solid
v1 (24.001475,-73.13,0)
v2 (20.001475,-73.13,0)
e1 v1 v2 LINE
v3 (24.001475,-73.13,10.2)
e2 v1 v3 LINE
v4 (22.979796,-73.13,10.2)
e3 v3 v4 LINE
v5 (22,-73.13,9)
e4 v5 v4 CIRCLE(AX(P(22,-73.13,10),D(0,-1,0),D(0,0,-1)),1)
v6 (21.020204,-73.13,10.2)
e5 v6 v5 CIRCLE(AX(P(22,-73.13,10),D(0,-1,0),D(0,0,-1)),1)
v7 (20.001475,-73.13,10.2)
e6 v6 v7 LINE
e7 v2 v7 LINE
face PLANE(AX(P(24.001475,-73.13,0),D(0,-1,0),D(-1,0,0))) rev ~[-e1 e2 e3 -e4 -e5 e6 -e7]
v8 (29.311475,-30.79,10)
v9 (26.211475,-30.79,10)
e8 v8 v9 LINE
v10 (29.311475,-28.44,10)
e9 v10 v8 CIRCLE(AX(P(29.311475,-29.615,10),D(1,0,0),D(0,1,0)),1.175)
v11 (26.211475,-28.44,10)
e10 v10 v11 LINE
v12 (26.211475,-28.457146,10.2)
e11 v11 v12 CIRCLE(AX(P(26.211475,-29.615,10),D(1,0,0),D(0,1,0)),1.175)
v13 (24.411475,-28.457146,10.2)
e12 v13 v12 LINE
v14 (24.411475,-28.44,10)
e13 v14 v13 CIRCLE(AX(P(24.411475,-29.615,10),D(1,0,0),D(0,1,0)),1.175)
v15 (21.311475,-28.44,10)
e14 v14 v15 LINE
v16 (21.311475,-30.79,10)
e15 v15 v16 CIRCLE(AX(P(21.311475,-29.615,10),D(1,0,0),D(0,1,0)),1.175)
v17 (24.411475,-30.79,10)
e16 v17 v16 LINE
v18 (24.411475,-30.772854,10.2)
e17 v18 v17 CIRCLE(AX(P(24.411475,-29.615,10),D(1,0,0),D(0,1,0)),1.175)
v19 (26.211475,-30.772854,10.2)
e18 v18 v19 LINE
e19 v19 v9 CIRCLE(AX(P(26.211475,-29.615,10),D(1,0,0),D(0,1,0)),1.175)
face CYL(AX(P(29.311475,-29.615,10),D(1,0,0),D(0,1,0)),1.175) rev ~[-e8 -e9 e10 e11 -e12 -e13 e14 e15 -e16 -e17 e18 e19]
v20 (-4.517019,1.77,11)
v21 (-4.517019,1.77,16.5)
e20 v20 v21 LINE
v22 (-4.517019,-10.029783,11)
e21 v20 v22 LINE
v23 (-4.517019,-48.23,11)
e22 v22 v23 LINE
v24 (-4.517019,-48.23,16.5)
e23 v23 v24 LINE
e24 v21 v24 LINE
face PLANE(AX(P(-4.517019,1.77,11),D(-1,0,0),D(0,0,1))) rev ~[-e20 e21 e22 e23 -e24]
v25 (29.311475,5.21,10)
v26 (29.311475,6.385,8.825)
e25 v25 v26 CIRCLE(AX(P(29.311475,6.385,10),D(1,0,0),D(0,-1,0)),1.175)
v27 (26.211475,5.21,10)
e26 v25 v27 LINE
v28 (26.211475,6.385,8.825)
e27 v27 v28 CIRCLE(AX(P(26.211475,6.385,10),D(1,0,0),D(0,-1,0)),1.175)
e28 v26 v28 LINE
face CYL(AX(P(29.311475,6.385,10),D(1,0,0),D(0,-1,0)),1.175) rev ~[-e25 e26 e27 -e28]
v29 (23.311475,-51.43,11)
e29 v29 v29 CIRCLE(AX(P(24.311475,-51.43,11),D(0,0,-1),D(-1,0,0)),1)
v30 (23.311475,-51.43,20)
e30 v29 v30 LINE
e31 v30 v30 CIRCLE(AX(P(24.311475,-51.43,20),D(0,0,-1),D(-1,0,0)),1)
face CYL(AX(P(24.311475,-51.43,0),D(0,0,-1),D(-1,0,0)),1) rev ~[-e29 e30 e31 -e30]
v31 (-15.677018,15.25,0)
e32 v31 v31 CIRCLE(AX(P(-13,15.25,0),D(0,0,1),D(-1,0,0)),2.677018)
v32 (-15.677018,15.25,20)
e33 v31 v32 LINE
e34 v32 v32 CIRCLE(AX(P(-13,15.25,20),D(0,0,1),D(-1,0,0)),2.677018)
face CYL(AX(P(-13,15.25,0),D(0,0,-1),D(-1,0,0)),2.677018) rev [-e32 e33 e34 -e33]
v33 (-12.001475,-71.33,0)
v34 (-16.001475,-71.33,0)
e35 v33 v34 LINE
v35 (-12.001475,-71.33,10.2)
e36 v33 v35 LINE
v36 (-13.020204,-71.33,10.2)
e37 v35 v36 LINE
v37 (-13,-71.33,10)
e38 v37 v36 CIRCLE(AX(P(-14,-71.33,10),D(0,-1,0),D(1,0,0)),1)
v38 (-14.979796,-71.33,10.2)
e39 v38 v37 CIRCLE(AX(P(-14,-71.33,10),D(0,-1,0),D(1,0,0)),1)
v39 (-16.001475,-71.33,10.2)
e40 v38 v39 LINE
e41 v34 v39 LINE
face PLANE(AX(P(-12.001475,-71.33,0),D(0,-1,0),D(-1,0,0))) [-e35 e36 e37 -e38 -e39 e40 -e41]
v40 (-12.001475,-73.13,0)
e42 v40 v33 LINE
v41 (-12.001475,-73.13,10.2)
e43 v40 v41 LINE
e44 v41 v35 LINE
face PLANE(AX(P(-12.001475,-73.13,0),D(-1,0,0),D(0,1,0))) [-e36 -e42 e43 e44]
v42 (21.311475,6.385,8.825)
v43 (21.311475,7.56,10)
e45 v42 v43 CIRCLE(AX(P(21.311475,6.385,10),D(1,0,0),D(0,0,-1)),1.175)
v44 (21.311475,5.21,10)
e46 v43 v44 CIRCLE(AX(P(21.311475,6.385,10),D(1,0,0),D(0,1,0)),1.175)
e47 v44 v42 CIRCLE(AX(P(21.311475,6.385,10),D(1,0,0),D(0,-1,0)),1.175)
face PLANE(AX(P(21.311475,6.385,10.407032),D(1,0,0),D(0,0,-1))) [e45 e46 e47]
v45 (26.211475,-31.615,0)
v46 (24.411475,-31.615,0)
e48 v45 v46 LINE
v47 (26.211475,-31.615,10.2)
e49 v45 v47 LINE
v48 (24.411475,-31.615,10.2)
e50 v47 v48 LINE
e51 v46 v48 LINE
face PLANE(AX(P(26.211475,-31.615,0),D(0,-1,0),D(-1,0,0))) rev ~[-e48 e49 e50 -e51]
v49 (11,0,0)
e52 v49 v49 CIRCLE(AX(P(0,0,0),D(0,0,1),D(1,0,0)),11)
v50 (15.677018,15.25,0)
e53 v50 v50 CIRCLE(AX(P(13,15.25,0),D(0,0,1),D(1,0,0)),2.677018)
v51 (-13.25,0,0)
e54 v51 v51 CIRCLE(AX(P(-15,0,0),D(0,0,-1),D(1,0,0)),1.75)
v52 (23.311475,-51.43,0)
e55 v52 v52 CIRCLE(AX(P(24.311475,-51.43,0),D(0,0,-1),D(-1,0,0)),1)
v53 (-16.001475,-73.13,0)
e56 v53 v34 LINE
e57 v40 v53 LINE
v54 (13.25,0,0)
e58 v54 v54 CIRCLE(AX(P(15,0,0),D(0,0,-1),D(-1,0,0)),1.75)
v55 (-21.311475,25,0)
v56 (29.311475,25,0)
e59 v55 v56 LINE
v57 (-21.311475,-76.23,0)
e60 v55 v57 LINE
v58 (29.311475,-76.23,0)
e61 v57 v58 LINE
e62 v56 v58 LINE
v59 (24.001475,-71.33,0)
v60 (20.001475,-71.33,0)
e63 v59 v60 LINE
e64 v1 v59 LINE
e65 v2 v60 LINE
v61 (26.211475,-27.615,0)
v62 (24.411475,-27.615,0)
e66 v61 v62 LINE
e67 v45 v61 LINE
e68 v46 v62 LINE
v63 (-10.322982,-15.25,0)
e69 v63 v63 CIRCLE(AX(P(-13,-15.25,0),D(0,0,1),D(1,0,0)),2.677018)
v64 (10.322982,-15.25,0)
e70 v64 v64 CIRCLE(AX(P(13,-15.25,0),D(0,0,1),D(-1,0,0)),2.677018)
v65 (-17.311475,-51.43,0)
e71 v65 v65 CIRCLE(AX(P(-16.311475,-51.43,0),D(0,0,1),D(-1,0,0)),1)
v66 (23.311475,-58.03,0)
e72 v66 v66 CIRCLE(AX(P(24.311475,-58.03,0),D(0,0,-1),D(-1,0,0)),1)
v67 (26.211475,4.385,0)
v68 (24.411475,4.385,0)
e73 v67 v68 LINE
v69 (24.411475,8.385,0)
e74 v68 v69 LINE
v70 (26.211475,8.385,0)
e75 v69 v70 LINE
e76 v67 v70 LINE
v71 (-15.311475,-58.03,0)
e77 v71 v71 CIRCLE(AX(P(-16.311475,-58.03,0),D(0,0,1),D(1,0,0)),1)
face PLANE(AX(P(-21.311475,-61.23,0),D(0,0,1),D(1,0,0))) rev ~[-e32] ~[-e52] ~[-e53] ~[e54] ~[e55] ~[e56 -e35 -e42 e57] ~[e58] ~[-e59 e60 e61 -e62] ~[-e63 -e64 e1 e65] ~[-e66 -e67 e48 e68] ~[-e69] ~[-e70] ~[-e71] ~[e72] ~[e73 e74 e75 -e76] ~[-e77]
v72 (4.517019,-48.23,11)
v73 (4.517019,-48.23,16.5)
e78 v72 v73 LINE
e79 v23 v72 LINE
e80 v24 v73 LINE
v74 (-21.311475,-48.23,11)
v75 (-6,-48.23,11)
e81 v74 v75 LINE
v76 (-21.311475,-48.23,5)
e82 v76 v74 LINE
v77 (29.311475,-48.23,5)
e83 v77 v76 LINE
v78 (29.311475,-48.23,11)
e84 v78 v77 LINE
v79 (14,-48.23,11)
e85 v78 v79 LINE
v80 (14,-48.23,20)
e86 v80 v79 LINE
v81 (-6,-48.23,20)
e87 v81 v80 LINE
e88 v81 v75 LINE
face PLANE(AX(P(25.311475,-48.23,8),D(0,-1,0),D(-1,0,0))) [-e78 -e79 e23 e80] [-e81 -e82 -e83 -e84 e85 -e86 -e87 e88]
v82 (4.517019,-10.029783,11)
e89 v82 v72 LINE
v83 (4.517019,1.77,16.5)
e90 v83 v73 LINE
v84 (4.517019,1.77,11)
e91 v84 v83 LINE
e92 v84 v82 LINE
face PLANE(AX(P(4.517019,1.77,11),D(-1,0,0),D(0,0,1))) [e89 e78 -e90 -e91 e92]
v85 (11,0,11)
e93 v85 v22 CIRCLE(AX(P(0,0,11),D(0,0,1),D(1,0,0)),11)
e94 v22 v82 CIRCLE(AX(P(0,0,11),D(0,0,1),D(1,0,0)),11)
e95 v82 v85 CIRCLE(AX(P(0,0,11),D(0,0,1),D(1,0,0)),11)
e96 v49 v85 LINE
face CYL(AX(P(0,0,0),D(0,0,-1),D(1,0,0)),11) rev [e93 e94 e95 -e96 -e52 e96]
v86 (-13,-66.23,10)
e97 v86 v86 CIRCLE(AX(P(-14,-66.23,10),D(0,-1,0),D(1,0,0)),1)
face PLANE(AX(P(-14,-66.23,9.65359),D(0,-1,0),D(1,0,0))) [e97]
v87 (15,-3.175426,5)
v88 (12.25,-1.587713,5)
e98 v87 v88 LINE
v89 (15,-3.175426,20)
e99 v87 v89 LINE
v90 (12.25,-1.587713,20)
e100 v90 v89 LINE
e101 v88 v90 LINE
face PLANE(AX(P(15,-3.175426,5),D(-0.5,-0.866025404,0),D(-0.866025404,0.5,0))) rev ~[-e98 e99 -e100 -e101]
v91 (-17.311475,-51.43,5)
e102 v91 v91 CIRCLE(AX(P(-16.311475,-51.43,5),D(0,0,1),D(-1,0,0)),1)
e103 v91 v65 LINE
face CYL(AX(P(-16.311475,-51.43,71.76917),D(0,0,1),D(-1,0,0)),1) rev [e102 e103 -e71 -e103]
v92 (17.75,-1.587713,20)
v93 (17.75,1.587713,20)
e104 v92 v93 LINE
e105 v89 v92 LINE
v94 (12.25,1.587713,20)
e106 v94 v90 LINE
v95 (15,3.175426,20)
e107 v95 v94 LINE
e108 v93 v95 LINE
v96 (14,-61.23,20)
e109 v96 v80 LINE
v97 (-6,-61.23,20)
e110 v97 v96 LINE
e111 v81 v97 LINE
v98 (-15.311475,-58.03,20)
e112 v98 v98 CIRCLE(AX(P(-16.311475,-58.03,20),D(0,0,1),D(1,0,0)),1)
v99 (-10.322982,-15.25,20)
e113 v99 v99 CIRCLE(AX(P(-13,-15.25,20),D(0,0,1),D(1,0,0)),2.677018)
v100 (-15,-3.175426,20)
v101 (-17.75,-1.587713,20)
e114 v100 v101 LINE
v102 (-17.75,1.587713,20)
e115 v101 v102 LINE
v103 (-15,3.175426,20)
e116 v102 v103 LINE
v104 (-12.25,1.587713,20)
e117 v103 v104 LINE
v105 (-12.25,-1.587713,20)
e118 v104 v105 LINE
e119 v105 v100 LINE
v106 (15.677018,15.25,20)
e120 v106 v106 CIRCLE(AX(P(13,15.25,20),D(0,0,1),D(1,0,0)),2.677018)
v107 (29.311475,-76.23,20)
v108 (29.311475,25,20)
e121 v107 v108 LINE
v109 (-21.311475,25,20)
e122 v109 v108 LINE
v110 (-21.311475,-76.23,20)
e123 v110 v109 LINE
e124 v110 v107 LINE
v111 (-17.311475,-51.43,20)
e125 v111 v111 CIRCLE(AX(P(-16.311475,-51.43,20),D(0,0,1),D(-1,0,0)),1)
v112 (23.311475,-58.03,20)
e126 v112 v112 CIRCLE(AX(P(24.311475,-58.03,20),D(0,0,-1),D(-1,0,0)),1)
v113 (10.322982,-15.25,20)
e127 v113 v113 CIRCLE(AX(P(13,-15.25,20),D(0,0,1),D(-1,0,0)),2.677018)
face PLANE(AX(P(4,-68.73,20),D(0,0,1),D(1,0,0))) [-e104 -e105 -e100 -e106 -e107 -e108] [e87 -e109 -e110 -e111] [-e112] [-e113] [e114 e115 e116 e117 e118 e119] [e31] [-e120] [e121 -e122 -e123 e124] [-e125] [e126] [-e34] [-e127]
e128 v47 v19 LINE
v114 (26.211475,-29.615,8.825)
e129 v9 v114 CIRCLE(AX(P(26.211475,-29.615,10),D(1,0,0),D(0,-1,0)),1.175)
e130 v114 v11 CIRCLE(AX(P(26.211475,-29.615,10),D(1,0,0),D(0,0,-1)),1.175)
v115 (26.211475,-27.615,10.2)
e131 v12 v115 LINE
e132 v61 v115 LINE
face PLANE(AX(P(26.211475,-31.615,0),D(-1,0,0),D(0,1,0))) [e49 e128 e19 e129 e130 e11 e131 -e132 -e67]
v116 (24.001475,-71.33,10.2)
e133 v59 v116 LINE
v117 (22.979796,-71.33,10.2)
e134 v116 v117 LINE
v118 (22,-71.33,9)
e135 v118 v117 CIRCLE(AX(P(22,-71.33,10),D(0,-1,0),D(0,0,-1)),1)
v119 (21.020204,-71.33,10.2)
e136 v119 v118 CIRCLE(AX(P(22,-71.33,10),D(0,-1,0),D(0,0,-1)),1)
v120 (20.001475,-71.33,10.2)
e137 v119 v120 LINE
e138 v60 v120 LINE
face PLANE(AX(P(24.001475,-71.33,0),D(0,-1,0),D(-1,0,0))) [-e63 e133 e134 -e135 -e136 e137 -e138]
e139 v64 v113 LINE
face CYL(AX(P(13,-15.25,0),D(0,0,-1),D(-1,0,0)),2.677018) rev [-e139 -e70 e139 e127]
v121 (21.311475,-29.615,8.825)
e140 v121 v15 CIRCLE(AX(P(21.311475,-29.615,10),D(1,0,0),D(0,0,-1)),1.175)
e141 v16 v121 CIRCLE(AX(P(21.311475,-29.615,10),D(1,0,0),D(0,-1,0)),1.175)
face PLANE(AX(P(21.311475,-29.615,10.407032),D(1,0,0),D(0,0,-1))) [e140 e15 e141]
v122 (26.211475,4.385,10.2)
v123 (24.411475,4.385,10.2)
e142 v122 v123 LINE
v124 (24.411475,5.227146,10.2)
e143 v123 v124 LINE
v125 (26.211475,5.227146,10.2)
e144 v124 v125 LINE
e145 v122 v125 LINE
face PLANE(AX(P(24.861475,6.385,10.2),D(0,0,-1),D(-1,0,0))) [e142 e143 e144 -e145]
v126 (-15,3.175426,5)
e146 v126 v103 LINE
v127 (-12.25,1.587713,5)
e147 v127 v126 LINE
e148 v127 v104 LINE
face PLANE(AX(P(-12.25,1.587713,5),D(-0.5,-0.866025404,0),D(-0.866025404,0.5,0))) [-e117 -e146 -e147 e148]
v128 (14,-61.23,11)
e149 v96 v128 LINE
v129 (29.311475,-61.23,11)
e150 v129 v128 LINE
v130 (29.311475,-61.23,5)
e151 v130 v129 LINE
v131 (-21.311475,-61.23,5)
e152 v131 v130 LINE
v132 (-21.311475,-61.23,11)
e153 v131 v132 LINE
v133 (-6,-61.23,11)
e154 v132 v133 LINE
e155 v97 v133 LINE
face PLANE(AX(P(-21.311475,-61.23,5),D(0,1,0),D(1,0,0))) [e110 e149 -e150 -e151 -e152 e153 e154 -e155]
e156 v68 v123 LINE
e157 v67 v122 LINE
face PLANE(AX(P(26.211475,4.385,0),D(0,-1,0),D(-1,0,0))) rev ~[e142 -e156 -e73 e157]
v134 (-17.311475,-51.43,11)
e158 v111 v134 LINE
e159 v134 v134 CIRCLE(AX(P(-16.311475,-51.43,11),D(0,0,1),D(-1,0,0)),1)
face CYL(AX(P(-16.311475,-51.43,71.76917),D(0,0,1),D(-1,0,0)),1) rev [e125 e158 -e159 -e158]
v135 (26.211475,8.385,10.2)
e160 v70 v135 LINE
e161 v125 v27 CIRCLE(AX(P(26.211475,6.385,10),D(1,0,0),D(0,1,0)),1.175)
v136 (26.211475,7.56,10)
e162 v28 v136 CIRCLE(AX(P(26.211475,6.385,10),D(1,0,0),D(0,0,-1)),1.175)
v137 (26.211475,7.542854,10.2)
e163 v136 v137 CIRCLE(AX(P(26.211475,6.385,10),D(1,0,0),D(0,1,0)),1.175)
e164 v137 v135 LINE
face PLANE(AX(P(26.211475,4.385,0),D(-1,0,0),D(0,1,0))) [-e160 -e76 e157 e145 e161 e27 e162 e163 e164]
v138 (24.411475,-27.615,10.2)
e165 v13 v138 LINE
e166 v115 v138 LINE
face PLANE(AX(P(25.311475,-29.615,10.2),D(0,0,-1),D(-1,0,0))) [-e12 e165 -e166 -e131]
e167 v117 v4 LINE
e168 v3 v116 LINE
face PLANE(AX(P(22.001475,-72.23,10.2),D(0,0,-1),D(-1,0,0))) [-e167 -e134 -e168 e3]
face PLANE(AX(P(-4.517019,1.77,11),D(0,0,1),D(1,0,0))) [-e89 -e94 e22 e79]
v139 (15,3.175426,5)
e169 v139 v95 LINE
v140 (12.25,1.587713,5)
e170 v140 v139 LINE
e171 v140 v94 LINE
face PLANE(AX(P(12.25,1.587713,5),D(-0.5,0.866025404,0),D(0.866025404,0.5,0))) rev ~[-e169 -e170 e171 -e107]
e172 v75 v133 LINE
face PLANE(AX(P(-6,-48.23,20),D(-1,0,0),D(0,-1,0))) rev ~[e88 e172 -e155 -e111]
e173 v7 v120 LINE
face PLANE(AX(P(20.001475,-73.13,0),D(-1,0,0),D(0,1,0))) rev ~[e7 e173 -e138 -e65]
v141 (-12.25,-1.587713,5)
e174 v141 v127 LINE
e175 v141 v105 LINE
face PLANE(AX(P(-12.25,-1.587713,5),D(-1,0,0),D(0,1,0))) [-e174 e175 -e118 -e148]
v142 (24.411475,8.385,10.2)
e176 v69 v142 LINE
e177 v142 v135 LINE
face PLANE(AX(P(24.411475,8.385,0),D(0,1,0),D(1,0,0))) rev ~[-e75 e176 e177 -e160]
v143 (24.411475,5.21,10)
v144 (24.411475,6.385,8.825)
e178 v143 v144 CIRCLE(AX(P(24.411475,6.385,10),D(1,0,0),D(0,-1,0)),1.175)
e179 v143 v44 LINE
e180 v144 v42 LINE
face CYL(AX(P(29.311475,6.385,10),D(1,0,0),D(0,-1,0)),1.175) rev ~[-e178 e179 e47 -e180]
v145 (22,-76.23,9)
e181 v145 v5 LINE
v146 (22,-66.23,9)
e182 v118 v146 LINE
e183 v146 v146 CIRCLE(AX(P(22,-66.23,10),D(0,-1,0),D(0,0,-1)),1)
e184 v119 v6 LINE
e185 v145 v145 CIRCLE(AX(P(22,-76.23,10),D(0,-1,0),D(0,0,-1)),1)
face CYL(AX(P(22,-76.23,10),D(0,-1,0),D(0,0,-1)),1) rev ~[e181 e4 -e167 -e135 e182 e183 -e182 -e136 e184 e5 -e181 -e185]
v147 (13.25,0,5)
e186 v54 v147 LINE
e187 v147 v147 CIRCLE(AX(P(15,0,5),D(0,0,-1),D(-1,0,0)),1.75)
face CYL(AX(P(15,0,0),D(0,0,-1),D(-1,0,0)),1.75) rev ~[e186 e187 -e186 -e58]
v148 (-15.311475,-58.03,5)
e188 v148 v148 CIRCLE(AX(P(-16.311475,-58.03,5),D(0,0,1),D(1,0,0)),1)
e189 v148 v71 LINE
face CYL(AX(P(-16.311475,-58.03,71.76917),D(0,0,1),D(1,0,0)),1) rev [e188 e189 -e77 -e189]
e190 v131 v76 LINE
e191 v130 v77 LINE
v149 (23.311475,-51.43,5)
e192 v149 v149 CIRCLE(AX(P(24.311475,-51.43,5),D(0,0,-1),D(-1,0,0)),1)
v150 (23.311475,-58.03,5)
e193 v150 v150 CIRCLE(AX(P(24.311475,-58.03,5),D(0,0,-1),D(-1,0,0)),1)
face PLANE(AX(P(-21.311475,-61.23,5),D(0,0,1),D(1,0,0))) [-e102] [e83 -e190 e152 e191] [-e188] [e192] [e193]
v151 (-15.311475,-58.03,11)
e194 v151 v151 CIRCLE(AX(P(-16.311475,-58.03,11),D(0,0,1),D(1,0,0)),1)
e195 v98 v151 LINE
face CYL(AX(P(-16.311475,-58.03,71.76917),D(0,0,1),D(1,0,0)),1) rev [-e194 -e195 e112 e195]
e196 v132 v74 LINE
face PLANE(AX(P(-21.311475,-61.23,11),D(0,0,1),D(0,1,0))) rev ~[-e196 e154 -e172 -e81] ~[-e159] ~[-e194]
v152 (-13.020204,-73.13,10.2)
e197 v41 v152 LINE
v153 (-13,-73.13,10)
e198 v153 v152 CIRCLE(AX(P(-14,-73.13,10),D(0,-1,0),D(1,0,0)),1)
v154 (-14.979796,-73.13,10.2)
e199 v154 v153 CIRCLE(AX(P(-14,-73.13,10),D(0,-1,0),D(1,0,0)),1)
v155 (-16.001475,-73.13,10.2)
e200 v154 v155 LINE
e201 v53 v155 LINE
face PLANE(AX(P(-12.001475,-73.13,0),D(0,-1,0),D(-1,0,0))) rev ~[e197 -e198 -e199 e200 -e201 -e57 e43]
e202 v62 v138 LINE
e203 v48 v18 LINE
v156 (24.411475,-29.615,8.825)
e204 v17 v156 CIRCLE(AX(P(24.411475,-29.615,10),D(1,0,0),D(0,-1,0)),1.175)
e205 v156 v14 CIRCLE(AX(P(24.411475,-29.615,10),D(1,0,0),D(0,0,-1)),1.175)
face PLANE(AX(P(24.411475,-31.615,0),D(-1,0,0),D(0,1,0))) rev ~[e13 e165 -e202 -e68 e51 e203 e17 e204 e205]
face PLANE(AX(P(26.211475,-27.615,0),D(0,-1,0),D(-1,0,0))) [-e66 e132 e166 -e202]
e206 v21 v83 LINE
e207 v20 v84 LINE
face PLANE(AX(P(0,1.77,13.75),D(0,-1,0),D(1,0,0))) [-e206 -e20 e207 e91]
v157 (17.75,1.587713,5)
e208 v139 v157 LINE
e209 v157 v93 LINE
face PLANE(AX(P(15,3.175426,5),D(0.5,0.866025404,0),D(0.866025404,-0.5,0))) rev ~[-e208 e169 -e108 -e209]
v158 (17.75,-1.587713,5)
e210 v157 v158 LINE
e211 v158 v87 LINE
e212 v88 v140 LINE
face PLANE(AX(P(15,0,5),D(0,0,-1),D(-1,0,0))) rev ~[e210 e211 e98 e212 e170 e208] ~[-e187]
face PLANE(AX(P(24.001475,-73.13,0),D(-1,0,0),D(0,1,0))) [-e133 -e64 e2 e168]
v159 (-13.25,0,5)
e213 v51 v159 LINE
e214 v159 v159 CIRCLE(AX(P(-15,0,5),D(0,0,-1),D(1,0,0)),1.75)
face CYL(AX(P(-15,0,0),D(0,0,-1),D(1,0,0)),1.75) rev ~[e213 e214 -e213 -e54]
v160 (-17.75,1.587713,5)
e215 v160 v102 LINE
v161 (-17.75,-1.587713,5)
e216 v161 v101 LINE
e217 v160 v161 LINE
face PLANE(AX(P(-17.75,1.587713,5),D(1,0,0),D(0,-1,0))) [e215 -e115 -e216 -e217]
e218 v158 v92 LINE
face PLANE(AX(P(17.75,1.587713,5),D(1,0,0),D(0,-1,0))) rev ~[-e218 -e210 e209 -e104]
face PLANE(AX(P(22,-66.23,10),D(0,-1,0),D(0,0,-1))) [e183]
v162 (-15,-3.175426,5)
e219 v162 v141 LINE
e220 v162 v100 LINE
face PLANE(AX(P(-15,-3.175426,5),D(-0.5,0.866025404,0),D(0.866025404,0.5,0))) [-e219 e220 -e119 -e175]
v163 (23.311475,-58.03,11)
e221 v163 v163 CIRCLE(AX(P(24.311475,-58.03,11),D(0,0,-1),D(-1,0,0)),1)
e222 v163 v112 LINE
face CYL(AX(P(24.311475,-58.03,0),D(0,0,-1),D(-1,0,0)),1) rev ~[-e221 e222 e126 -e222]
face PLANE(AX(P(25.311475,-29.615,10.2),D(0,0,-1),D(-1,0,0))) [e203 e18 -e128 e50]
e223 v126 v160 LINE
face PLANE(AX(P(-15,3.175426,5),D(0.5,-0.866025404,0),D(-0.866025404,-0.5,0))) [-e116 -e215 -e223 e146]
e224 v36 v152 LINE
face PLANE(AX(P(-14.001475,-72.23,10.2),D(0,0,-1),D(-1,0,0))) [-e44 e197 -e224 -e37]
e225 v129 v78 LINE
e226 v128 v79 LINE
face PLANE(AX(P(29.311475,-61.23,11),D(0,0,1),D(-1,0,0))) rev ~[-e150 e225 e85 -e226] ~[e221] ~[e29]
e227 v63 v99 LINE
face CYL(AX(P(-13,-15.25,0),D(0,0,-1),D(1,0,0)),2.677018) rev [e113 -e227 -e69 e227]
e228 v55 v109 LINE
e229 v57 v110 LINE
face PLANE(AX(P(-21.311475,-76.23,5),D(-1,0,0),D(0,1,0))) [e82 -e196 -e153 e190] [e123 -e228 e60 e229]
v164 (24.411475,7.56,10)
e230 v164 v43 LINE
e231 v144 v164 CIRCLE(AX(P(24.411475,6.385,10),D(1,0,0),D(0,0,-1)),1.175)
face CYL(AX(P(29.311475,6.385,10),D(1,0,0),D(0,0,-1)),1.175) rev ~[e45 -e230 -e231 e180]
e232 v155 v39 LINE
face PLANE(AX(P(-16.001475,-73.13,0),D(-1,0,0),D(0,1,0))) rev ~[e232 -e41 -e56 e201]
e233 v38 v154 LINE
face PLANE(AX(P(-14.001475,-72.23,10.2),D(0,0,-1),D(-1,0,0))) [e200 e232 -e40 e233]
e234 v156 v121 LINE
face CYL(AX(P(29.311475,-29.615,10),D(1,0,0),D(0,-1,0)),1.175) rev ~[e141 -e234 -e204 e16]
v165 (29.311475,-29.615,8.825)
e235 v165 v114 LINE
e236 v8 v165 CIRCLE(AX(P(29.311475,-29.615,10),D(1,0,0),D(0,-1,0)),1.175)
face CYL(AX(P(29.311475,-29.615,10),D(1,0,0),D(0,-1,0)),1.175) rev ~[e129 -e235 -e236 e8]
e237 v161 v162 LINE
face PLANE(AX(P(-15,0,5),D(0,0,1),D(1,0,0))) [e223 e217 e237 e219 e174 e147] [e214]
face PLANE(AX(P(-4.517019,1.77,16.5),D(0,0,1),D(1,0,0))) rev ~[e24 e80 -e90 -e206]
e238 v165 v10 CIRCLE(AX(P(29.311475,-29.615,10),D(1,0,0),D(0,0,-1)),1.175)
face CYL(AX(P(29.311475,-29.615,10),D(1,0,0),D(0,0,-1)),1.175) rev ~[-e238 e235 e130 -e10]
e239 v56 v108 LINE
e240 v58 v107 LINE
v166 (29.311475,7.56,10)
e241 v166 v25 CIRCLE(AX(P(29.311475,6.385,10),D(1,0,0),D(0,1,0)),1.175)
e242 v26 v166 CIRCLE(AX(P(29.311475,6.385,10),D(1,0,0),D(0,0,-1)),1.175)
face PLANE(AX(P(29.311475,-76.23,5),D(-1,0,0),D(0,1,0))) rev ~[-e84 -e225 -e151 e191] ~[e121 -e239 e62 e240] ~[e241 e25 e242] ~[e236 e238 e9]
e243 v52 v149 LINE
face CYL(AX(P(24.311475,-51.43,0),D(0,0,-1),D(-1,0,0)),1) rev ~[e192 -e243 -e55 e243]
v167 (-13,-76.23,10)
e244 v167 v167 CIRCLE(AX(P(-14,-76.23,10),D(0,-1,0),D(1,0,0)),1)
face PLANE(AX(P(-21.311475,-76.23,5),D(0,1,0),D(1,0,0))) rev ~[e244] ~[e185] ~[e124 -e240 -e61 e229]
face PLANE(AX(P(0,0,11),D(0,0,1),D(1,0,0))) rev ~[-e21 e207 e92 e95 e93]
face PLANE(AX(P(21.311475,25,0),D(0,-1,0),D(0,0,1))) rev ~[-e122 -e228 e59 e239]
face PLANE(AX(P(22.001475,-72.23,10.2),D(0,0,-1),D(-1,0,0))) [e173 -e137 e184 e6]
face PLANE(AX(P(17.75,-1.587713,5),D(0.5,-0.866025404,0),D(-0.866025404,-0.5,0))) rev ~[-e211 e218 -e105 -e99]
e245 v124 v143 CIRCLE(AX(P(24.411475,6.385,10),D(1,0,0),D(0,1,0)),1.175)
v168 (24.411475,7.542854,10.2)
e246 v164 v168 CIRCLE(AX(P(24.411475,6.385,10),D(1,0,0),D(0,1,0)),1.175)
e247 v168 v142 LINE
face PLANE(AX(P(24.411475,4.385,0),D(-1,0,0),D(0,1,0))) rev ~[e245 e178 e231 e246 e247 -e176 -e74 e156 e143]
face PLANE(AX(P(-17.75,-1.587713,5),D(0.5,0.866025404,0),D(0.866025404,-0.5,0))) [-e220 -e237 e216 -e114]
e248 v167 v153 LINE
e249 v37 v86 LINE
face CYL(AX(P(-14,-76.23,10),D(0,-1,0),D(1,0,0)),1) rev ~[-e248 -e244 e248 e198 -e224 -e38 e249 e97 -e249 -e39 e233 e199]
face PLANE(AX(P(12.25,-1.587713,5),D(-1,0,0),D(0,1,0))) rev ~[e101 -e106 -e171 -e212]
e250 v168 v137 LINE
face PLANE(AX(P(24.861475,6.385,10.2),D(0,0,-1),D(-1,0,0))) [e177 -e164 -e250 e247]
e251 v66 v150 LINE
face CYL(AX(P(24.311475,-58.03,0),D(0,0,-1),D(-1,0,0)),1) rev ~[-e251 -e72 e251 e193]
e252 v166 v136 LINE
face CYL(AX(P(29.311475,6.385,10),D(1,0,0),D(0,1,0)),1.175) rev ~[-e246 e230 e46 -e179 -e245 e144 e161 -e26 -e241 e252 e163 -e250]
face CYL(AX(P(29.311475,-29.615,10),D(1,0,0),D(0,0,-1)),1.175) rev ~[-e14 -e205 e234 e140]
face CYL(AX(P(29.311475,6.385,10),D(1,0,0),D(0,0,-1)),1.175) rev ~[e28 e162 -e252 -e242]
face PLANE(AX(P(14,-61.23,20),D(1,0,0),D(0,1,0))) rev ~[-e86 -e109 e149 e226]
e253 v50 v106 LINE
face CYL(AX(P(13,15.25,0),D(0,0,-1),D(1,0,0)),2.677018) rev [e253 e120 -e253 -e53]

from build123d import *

# Parameters (mm, degrees)
SKETCH1_W               = 42.62295082
SKETCH1_H               = 50
SKETCH1_R               = 2.677018134
BOSS_EXTRUDE1_DEPTH     = 20
SKETCH2_R               = 11
CUT_EXTRUDE2_DEPTH      = 11
SKETCH3_R               = 1.75
CUT_EXTRUDE3_DEPTH      = 10
CUT_EXTRUDE6_START      = -5
CUT_EXTRUDE6_DEPTH      = 34.460095998
SKETCH30_W              = 42.62295082
SKETCH30_H              = 20
BOSS_EXTRUDE8_DEPTH     = 20.23
SKETCH10_W              = 42.62295082
SKETCH10_H              = 16
BOSS_EXTRUDE2_DEPTH     = 20
SKETCH14_W              = 6
SKETCH14_H              = 13
CUT_EXTRUDE7_DEPTH      = 78.238778062
BOSS_EXTRUDE3_DEPTH     = 8
CUT_EXTRUDE9_DEPTH      = 8
SKETCH18_W              = 0.9
SKETCH18_H              = 4
SKETCH18_W_2            = 1.8
CUT_EXTRUDE10_DEPTH     = 10.2
CUT_EXTRUDE8_DEPTH      = 71.769170482
CUT_EXTRUDE8_DEPTH_BACK = 71.769170482
SKETCH15_R              = 1
CUT_EXTRUDE5_DEPTH      = 82.374415455
CUT_EXTRUDE5_DEPTH_BACK = 50
SKETCH6_W               = 9.034037672
SKETCH6_H               = 5.5
SKETCH20_W              = 8
SKETCH20_H              = 20
BOSS_EXTRUDE5_DEPTH     = 13
SKETCH21_W              = 8
SKETCH21_H              = 6
CUT_EXTRUDE11_DEPTH     = 13
SKETCH22_R              = 1
CUT_EXTRUDE12_DEPTH     = 71.769170482
SKETCH24_W              = 50.62295082
SKETCH24_H              = 5
BOSS_EXTRUDE6_DEPTH     = 15
SKETCH25_W              = 50.62295082
SKETCH25_H              = 15
BOSS_EXTRUDE7_DEPTH     = 15
SKETCH26_R              = 1
CUT_EXTRUDE13_DEPTH     = 10
SKETCH27_W              = 4
SKETCH27_H              = 1.8
CUT_EXTRUDE14_DEPTH     = 10.2
SKETCH29_W              = 20
SKETCH29_H              = 3.2
CUT_EXTRUDE15_DEPTH     = 9


with BuildPart() as part:
    # Sketch1 → Boss-Extrude1 (new body)
    with BuildSketch(Plane.XY):
        Rectangle(SKETCH1_W, SKETCH1_H)
        with Locations((-13, -15.25)):
            Circle(SKETCH1_R, mode=Mode.SUBTRACT)
        with Locations(Location((13, -15.25, 0), (0, 0, 180))):
            Circle(SKETCH1_R, mode=Mode.SUBTRACT)
        with Locations((13, 15.25)):
            Circle(SKETCH1_R, mode=Mode.SUBTRACT)
        with Locations(Location((-13, 15.25, 0), (0, 0, 180))):
            Circle(SKETCH1_R, mode=Mode.SUBTRACT)
    extrude(amount=BOSS_EXTRUDE1_DEPTH)

    # Sketch2 → Cut-Extrude2 (cut)
    with BuildSketch(Plane.XY):
        Circle(SKETCH2_R)
    extrude(amount=CUT_EXTRUDE2_DEPTH, mode=Mode.SUBTRACT)

    # Sketch3 → Cut-Extrude3 (cut)
    with BuildSketch(Plane(origin=(0, 0, 0), x_dir=(-1, 0, 0), z_dir=(0, 0, -1))):
        with Locations((-15, 0)):
            Circle(SKETCH3_R)
        with Locations(Location((15, 0, 0), (0, 0, 180))):
            Circle(SKETCH3_R)
    extrude(amount=-CUT_EXTRUDE3_DEPTH, mode=Mode.SUBTRACT)

    # Sketch9 → Cut-Extrude6 (cut, through all)
    with BuildSketch(Plane(origin=(0, 0, 0), x_dir=(-1, 0, 0), z_dir=(0, 0, -1)).offset(CUT_EXTRUDE6_START)):
        Polygon((-15, 3.175426481), (-17.75, 1.58771324), (-17.75, -1.58771324), (-15, -3.175426481), (-12.25, -1.58771324), (-12.25, 1.58771324), align=None)
        Polygon((12.25, 1.58771324), (15, 3.175426481), (17.75, 1.58771324), (17.75, -1.58771324), (15, -3.175426481), (12.25, -1.58771324), align=None)
    extrude(amount=-CUT_EXTRUDE6_DEPTH, mode=Mode.SUBTRACT)

    # Sketch30 → Boss-Extrude8 (add)
    with BuildSketch(Plane.XZ.offset(25)):
        with Locations((0, 10)):
            Rectangle(SKETCH30_W, SKETCH30_H)
    extrude(amount=BOSS_EXTRUDE8_DEPTH)

    # Sketch10 → Boss-Extrude2 (add)
    with BuildSketch(Plane.XY):
        with Locations((0, -53.23)):
            Rectangle(SKETCH10_W, SKETCH10_H)
    extrude(amount=BOSS_EXTRUDE2_DEPTH)

    # Sketch14 → Cut-Extrude7 (cut, through all)
    with BuildSketch(Plane.ZY.offset(21.31147541)):
        with Locations((8, -54.73)):
            Rectangle(SKETCH14_W, SKETCH14_H)
    extrude(amount=-CUT_EXTRUDE7_DEPTH, mode=Mode.SUBTRACT)

    # Sketch16 → Boss-Extrude3 (add)
    with BuildSketch(Plane(origin=(21.31147541, 0, 0), x_dir=(0, 0, -1), z_dir=(1, 0, 0))):
        Polygon((-10, 25), (-10, -48.23), (-5, -48.23), (0, -48.23), (0, 25), align=None)
        Polygon((-11, -48.23), (-10, -48.23), (-10, 25), (-20, 25), (-20, -48.23), align=None)
    extrude(amount=BOSS_EXTRUDE3_DEPTH)

    # Sketch17 → Cut-Extrude9 (cut)
    with BuildSketch(Plane(origin=(29.31147541, 0, 0), x_dir=(0, 0, -1), z_dir=(1, 0, 0))):
        with BuildLine():
            ThreePointArc((-10, 7.56), (-11.175, 6.385), (-10, 5.21))
            Line((-10, 5.21), (-10, 7.56))
        make_face()
        with BuildLine():
            Line((-10, 7.56), (-10, 5.21))
            ThreePointArc((-10, 5.21), (-9.169149532, 5.554149532), (-8.825, 6.385))
            ThreePointArc((-8.825, 6.385), (-9.169149532, 7.215850468), (-10, 7.56))
        make_face()
        with BuildLine():
            ThreePointArc((-10, -28.44), (-11.175, -29.615), (-10, -30.79))
            Line((-10, -30.79), (-10, -28.44))
        make_face()
        with BuildLine():
            Line((-10, -28.44), (-10, -30.79))
            ThreePointArc((-10, -30.79), (-9.169149532, -30.445850468), (-8.825, -29.615))
            ThreePointArc((-8.825, -29.615), (-9.169149532, -28.784149532), (-10, -28.44))
        make_face()
    extrude(amount=-CUT_EXTRUDE9_DEPTH, mode=Mode.SUBTRACT)

    # Sketch18 → Cut-Extrude10 (cut)
    with BuildSketch(Plane(origin=(0, 0, 0), x_dir=(-1, 0, 0), z_dir=(0, 0, -1))):
        with Locations((-24.86147541, 6.385)):
            Rectangle(SKETCH18_W, SKETCH18_H)
        with Locations((-25.76147541, 6.385)):
            Rectangle(SKETCH18_W, SKETCH18_H)
        with Locations((-25.31147541, -29.615)):
            Rectangle(SKETCH18_W_2, SKETCH18_H)
    extrude(amount=-CUT_EXTRUDE10_DEPTH, mode=Mode.SUBTRACT)

    # Sketch15 → Cut-Extrude8 (cut, two sides: drawn at the far end of the back side and taken through both)
    with BuildSketch(Plane(origin=(0, 0, 0), x_dir=(-1, 0, 0), z_dir=(0, 0, -1)).offset(-CUT_EXTRUDE8_DEPTH_BACK)):
        with Locations(Location((16.31147541, -58.03, 0), (0, 0, 180))):
            Circle(SKETCH15_R)
        with Locations((16.31147541, -51.43)):
            Circle(SKETCH15_R)
    extrude(amount=CUT_EXTRUDE8_DEPTH + CUT_EXTRUDE8_DEPTH_BACK, mode=Mode.SUBTRACT)

    # Sketch6 → Cut-Extrude5 (cut, two sides: drawn at the far end of the back side and taken through both)
    with BuildSketch(Plane.XZ.offset(48.23).offset(-CUT_EXTRUDE5_DEPTH_BACK)):
        with Locations((0, 13.75)):
            Rectangle(SKETCH6_W, SKETCH6_H)
    extrude(amount=CUT_EXTRUDE5_DEPTH + CUT_EXTRUDE5_DEPTH_BACK, mode=Mode.SUBTRACT)

    # Sketch20 → Boss-Extrude5 (add)
    with BuildSketch(Plane(origin=(0, -48.23, 0), x_dir=(-1, 0, 0), z_dir=(0, -1, 0))):
        with Locations((-25.31147541, -10)):
            Rectangle(SKETCH20_W, SKETCH20_H)
    extrude(amount=BOSS_EXTRUDE5_DEPTH)

    # Sketch21 → Cut-Extrude11 (cut)
    with BuildSketch(Plane(origin=(0, -61.23, 0), x_dir=(-1, 0, 0), z_dir=(0, -1, 0))):
        with Locations((-25.31147541, -8)):
            Rectangle(SKETCH21_W, SKETCH21_H)
    extrude(amount=-CUT_EXTRUDE11_DEPTH, mode=Mode.SUBTRACT)

    # Sketch22 → Cut-Extrude12 (cut, through all)
    with BuildSketch(Plane(origin=(0, 0, 0), x_dir=(-1, 0, 0), z_dir=(0, 0, -1))):
        with Locations((-24.31147541, -58.03)):
            Circle(SKETCH22_R)
        with Locations((-24.31147541, -51.43)):
            Circle(SKETCH22_R)
    extrude(amount=-CUT_EXTRUDE12_DEPTH, mode=Mode.SUBTRACT)

    # Sketch24 → Boss-Extrude6 (add)
    with BuildSketch(Plane.XZ.offset(61.23)):
        with Locations((4, 2.5)):
            Rectangle(SKETCH24_W, SKETCH24_H)
    extrude(amount=BOSS_EXTRUDE6_DEPTH)

    # Sketch25 → Boss-Extrude7 (add)
    with BuildSketch(Plane.XY.offset(5)):
        with Locations((4, -68.73)):
            Rectangle(SKETCH25_W, SKETCH25_H)
    extrude(amount=BOSS_EXTRUDE7_DEPTH)

    # Sketch26 → Cut-Extrude13 (cut)
    with BuildSketch(Plane.XZ.offset(76.23)):
        with BuildLine():
            ThreePointArc((-15, 10), (-14, 9), (-13, 10))
            Line((-13, 10), (-15, 10))
        make_face()
        with BuildLine():
            Line((-15, 10), (-13, 10))
            ThreePointArc((-13, 10), (-14, 11), (-15, 10))
        make_face()
        with Locations(Location((22, 10, 0), (0, 0, 270))):
            Circle(SKETCH26_R)
    extrude(amount=-CUT_EXTRUDE13_DEPTH, mode=Mode.SUBTRACT)

    # Sketch27 → Cut-Extrude14 (cut)
    with BuildSketch(Plane(origin=(0, 0, 0), x_dir=(-1, 0, 0), z_dir=(0, 0, -1))):
        with Locations((-22.00147541, -72.23)):
            Rectangle(SKETCH27_W, SKETCH27_H)
        with Locations((14.00147541, -72.23)):
            Rectangle(SKETCH27_W, SKETCH27_H)
    extrude(amount=-CUT_EXTRUDE14_DEPTH, mode=Mode.SUBTRACT)

    # Sketch29 → Cut-Extrude15 (cut)
    with BuildSketch(Plane.XY.offset(20)):
        with Locations((4, -49.83)):
            Rectangle(SKETCH29_W, SKETCH29_H)
        Polygon((-6, -51.43), (-6, -53.105302663), (4, -54.73), (14, -53.105302663), (14, -51.43), align=None)
        Polygon((4, -54.73), (-6, -53.105302663), (-6, -56.354697337), align=None)
        with Locations((4, -59.63)):
            Rectangle(SKETCH29_W, SKETCH29_H)
        Polygon((14, -56.354697337), (4, -54.73), (-6, -56.354697337), (-6, -58.03), (14, -58.03), align=None)
        Polygon((14, -53.105302663), (4, -54.73), (14, -56.354697337), align=None)
    extrude(amount=-CUT_EXTRUDE15_DEPTH, mode=Mode.SUBTRACT)


solid = part.part
